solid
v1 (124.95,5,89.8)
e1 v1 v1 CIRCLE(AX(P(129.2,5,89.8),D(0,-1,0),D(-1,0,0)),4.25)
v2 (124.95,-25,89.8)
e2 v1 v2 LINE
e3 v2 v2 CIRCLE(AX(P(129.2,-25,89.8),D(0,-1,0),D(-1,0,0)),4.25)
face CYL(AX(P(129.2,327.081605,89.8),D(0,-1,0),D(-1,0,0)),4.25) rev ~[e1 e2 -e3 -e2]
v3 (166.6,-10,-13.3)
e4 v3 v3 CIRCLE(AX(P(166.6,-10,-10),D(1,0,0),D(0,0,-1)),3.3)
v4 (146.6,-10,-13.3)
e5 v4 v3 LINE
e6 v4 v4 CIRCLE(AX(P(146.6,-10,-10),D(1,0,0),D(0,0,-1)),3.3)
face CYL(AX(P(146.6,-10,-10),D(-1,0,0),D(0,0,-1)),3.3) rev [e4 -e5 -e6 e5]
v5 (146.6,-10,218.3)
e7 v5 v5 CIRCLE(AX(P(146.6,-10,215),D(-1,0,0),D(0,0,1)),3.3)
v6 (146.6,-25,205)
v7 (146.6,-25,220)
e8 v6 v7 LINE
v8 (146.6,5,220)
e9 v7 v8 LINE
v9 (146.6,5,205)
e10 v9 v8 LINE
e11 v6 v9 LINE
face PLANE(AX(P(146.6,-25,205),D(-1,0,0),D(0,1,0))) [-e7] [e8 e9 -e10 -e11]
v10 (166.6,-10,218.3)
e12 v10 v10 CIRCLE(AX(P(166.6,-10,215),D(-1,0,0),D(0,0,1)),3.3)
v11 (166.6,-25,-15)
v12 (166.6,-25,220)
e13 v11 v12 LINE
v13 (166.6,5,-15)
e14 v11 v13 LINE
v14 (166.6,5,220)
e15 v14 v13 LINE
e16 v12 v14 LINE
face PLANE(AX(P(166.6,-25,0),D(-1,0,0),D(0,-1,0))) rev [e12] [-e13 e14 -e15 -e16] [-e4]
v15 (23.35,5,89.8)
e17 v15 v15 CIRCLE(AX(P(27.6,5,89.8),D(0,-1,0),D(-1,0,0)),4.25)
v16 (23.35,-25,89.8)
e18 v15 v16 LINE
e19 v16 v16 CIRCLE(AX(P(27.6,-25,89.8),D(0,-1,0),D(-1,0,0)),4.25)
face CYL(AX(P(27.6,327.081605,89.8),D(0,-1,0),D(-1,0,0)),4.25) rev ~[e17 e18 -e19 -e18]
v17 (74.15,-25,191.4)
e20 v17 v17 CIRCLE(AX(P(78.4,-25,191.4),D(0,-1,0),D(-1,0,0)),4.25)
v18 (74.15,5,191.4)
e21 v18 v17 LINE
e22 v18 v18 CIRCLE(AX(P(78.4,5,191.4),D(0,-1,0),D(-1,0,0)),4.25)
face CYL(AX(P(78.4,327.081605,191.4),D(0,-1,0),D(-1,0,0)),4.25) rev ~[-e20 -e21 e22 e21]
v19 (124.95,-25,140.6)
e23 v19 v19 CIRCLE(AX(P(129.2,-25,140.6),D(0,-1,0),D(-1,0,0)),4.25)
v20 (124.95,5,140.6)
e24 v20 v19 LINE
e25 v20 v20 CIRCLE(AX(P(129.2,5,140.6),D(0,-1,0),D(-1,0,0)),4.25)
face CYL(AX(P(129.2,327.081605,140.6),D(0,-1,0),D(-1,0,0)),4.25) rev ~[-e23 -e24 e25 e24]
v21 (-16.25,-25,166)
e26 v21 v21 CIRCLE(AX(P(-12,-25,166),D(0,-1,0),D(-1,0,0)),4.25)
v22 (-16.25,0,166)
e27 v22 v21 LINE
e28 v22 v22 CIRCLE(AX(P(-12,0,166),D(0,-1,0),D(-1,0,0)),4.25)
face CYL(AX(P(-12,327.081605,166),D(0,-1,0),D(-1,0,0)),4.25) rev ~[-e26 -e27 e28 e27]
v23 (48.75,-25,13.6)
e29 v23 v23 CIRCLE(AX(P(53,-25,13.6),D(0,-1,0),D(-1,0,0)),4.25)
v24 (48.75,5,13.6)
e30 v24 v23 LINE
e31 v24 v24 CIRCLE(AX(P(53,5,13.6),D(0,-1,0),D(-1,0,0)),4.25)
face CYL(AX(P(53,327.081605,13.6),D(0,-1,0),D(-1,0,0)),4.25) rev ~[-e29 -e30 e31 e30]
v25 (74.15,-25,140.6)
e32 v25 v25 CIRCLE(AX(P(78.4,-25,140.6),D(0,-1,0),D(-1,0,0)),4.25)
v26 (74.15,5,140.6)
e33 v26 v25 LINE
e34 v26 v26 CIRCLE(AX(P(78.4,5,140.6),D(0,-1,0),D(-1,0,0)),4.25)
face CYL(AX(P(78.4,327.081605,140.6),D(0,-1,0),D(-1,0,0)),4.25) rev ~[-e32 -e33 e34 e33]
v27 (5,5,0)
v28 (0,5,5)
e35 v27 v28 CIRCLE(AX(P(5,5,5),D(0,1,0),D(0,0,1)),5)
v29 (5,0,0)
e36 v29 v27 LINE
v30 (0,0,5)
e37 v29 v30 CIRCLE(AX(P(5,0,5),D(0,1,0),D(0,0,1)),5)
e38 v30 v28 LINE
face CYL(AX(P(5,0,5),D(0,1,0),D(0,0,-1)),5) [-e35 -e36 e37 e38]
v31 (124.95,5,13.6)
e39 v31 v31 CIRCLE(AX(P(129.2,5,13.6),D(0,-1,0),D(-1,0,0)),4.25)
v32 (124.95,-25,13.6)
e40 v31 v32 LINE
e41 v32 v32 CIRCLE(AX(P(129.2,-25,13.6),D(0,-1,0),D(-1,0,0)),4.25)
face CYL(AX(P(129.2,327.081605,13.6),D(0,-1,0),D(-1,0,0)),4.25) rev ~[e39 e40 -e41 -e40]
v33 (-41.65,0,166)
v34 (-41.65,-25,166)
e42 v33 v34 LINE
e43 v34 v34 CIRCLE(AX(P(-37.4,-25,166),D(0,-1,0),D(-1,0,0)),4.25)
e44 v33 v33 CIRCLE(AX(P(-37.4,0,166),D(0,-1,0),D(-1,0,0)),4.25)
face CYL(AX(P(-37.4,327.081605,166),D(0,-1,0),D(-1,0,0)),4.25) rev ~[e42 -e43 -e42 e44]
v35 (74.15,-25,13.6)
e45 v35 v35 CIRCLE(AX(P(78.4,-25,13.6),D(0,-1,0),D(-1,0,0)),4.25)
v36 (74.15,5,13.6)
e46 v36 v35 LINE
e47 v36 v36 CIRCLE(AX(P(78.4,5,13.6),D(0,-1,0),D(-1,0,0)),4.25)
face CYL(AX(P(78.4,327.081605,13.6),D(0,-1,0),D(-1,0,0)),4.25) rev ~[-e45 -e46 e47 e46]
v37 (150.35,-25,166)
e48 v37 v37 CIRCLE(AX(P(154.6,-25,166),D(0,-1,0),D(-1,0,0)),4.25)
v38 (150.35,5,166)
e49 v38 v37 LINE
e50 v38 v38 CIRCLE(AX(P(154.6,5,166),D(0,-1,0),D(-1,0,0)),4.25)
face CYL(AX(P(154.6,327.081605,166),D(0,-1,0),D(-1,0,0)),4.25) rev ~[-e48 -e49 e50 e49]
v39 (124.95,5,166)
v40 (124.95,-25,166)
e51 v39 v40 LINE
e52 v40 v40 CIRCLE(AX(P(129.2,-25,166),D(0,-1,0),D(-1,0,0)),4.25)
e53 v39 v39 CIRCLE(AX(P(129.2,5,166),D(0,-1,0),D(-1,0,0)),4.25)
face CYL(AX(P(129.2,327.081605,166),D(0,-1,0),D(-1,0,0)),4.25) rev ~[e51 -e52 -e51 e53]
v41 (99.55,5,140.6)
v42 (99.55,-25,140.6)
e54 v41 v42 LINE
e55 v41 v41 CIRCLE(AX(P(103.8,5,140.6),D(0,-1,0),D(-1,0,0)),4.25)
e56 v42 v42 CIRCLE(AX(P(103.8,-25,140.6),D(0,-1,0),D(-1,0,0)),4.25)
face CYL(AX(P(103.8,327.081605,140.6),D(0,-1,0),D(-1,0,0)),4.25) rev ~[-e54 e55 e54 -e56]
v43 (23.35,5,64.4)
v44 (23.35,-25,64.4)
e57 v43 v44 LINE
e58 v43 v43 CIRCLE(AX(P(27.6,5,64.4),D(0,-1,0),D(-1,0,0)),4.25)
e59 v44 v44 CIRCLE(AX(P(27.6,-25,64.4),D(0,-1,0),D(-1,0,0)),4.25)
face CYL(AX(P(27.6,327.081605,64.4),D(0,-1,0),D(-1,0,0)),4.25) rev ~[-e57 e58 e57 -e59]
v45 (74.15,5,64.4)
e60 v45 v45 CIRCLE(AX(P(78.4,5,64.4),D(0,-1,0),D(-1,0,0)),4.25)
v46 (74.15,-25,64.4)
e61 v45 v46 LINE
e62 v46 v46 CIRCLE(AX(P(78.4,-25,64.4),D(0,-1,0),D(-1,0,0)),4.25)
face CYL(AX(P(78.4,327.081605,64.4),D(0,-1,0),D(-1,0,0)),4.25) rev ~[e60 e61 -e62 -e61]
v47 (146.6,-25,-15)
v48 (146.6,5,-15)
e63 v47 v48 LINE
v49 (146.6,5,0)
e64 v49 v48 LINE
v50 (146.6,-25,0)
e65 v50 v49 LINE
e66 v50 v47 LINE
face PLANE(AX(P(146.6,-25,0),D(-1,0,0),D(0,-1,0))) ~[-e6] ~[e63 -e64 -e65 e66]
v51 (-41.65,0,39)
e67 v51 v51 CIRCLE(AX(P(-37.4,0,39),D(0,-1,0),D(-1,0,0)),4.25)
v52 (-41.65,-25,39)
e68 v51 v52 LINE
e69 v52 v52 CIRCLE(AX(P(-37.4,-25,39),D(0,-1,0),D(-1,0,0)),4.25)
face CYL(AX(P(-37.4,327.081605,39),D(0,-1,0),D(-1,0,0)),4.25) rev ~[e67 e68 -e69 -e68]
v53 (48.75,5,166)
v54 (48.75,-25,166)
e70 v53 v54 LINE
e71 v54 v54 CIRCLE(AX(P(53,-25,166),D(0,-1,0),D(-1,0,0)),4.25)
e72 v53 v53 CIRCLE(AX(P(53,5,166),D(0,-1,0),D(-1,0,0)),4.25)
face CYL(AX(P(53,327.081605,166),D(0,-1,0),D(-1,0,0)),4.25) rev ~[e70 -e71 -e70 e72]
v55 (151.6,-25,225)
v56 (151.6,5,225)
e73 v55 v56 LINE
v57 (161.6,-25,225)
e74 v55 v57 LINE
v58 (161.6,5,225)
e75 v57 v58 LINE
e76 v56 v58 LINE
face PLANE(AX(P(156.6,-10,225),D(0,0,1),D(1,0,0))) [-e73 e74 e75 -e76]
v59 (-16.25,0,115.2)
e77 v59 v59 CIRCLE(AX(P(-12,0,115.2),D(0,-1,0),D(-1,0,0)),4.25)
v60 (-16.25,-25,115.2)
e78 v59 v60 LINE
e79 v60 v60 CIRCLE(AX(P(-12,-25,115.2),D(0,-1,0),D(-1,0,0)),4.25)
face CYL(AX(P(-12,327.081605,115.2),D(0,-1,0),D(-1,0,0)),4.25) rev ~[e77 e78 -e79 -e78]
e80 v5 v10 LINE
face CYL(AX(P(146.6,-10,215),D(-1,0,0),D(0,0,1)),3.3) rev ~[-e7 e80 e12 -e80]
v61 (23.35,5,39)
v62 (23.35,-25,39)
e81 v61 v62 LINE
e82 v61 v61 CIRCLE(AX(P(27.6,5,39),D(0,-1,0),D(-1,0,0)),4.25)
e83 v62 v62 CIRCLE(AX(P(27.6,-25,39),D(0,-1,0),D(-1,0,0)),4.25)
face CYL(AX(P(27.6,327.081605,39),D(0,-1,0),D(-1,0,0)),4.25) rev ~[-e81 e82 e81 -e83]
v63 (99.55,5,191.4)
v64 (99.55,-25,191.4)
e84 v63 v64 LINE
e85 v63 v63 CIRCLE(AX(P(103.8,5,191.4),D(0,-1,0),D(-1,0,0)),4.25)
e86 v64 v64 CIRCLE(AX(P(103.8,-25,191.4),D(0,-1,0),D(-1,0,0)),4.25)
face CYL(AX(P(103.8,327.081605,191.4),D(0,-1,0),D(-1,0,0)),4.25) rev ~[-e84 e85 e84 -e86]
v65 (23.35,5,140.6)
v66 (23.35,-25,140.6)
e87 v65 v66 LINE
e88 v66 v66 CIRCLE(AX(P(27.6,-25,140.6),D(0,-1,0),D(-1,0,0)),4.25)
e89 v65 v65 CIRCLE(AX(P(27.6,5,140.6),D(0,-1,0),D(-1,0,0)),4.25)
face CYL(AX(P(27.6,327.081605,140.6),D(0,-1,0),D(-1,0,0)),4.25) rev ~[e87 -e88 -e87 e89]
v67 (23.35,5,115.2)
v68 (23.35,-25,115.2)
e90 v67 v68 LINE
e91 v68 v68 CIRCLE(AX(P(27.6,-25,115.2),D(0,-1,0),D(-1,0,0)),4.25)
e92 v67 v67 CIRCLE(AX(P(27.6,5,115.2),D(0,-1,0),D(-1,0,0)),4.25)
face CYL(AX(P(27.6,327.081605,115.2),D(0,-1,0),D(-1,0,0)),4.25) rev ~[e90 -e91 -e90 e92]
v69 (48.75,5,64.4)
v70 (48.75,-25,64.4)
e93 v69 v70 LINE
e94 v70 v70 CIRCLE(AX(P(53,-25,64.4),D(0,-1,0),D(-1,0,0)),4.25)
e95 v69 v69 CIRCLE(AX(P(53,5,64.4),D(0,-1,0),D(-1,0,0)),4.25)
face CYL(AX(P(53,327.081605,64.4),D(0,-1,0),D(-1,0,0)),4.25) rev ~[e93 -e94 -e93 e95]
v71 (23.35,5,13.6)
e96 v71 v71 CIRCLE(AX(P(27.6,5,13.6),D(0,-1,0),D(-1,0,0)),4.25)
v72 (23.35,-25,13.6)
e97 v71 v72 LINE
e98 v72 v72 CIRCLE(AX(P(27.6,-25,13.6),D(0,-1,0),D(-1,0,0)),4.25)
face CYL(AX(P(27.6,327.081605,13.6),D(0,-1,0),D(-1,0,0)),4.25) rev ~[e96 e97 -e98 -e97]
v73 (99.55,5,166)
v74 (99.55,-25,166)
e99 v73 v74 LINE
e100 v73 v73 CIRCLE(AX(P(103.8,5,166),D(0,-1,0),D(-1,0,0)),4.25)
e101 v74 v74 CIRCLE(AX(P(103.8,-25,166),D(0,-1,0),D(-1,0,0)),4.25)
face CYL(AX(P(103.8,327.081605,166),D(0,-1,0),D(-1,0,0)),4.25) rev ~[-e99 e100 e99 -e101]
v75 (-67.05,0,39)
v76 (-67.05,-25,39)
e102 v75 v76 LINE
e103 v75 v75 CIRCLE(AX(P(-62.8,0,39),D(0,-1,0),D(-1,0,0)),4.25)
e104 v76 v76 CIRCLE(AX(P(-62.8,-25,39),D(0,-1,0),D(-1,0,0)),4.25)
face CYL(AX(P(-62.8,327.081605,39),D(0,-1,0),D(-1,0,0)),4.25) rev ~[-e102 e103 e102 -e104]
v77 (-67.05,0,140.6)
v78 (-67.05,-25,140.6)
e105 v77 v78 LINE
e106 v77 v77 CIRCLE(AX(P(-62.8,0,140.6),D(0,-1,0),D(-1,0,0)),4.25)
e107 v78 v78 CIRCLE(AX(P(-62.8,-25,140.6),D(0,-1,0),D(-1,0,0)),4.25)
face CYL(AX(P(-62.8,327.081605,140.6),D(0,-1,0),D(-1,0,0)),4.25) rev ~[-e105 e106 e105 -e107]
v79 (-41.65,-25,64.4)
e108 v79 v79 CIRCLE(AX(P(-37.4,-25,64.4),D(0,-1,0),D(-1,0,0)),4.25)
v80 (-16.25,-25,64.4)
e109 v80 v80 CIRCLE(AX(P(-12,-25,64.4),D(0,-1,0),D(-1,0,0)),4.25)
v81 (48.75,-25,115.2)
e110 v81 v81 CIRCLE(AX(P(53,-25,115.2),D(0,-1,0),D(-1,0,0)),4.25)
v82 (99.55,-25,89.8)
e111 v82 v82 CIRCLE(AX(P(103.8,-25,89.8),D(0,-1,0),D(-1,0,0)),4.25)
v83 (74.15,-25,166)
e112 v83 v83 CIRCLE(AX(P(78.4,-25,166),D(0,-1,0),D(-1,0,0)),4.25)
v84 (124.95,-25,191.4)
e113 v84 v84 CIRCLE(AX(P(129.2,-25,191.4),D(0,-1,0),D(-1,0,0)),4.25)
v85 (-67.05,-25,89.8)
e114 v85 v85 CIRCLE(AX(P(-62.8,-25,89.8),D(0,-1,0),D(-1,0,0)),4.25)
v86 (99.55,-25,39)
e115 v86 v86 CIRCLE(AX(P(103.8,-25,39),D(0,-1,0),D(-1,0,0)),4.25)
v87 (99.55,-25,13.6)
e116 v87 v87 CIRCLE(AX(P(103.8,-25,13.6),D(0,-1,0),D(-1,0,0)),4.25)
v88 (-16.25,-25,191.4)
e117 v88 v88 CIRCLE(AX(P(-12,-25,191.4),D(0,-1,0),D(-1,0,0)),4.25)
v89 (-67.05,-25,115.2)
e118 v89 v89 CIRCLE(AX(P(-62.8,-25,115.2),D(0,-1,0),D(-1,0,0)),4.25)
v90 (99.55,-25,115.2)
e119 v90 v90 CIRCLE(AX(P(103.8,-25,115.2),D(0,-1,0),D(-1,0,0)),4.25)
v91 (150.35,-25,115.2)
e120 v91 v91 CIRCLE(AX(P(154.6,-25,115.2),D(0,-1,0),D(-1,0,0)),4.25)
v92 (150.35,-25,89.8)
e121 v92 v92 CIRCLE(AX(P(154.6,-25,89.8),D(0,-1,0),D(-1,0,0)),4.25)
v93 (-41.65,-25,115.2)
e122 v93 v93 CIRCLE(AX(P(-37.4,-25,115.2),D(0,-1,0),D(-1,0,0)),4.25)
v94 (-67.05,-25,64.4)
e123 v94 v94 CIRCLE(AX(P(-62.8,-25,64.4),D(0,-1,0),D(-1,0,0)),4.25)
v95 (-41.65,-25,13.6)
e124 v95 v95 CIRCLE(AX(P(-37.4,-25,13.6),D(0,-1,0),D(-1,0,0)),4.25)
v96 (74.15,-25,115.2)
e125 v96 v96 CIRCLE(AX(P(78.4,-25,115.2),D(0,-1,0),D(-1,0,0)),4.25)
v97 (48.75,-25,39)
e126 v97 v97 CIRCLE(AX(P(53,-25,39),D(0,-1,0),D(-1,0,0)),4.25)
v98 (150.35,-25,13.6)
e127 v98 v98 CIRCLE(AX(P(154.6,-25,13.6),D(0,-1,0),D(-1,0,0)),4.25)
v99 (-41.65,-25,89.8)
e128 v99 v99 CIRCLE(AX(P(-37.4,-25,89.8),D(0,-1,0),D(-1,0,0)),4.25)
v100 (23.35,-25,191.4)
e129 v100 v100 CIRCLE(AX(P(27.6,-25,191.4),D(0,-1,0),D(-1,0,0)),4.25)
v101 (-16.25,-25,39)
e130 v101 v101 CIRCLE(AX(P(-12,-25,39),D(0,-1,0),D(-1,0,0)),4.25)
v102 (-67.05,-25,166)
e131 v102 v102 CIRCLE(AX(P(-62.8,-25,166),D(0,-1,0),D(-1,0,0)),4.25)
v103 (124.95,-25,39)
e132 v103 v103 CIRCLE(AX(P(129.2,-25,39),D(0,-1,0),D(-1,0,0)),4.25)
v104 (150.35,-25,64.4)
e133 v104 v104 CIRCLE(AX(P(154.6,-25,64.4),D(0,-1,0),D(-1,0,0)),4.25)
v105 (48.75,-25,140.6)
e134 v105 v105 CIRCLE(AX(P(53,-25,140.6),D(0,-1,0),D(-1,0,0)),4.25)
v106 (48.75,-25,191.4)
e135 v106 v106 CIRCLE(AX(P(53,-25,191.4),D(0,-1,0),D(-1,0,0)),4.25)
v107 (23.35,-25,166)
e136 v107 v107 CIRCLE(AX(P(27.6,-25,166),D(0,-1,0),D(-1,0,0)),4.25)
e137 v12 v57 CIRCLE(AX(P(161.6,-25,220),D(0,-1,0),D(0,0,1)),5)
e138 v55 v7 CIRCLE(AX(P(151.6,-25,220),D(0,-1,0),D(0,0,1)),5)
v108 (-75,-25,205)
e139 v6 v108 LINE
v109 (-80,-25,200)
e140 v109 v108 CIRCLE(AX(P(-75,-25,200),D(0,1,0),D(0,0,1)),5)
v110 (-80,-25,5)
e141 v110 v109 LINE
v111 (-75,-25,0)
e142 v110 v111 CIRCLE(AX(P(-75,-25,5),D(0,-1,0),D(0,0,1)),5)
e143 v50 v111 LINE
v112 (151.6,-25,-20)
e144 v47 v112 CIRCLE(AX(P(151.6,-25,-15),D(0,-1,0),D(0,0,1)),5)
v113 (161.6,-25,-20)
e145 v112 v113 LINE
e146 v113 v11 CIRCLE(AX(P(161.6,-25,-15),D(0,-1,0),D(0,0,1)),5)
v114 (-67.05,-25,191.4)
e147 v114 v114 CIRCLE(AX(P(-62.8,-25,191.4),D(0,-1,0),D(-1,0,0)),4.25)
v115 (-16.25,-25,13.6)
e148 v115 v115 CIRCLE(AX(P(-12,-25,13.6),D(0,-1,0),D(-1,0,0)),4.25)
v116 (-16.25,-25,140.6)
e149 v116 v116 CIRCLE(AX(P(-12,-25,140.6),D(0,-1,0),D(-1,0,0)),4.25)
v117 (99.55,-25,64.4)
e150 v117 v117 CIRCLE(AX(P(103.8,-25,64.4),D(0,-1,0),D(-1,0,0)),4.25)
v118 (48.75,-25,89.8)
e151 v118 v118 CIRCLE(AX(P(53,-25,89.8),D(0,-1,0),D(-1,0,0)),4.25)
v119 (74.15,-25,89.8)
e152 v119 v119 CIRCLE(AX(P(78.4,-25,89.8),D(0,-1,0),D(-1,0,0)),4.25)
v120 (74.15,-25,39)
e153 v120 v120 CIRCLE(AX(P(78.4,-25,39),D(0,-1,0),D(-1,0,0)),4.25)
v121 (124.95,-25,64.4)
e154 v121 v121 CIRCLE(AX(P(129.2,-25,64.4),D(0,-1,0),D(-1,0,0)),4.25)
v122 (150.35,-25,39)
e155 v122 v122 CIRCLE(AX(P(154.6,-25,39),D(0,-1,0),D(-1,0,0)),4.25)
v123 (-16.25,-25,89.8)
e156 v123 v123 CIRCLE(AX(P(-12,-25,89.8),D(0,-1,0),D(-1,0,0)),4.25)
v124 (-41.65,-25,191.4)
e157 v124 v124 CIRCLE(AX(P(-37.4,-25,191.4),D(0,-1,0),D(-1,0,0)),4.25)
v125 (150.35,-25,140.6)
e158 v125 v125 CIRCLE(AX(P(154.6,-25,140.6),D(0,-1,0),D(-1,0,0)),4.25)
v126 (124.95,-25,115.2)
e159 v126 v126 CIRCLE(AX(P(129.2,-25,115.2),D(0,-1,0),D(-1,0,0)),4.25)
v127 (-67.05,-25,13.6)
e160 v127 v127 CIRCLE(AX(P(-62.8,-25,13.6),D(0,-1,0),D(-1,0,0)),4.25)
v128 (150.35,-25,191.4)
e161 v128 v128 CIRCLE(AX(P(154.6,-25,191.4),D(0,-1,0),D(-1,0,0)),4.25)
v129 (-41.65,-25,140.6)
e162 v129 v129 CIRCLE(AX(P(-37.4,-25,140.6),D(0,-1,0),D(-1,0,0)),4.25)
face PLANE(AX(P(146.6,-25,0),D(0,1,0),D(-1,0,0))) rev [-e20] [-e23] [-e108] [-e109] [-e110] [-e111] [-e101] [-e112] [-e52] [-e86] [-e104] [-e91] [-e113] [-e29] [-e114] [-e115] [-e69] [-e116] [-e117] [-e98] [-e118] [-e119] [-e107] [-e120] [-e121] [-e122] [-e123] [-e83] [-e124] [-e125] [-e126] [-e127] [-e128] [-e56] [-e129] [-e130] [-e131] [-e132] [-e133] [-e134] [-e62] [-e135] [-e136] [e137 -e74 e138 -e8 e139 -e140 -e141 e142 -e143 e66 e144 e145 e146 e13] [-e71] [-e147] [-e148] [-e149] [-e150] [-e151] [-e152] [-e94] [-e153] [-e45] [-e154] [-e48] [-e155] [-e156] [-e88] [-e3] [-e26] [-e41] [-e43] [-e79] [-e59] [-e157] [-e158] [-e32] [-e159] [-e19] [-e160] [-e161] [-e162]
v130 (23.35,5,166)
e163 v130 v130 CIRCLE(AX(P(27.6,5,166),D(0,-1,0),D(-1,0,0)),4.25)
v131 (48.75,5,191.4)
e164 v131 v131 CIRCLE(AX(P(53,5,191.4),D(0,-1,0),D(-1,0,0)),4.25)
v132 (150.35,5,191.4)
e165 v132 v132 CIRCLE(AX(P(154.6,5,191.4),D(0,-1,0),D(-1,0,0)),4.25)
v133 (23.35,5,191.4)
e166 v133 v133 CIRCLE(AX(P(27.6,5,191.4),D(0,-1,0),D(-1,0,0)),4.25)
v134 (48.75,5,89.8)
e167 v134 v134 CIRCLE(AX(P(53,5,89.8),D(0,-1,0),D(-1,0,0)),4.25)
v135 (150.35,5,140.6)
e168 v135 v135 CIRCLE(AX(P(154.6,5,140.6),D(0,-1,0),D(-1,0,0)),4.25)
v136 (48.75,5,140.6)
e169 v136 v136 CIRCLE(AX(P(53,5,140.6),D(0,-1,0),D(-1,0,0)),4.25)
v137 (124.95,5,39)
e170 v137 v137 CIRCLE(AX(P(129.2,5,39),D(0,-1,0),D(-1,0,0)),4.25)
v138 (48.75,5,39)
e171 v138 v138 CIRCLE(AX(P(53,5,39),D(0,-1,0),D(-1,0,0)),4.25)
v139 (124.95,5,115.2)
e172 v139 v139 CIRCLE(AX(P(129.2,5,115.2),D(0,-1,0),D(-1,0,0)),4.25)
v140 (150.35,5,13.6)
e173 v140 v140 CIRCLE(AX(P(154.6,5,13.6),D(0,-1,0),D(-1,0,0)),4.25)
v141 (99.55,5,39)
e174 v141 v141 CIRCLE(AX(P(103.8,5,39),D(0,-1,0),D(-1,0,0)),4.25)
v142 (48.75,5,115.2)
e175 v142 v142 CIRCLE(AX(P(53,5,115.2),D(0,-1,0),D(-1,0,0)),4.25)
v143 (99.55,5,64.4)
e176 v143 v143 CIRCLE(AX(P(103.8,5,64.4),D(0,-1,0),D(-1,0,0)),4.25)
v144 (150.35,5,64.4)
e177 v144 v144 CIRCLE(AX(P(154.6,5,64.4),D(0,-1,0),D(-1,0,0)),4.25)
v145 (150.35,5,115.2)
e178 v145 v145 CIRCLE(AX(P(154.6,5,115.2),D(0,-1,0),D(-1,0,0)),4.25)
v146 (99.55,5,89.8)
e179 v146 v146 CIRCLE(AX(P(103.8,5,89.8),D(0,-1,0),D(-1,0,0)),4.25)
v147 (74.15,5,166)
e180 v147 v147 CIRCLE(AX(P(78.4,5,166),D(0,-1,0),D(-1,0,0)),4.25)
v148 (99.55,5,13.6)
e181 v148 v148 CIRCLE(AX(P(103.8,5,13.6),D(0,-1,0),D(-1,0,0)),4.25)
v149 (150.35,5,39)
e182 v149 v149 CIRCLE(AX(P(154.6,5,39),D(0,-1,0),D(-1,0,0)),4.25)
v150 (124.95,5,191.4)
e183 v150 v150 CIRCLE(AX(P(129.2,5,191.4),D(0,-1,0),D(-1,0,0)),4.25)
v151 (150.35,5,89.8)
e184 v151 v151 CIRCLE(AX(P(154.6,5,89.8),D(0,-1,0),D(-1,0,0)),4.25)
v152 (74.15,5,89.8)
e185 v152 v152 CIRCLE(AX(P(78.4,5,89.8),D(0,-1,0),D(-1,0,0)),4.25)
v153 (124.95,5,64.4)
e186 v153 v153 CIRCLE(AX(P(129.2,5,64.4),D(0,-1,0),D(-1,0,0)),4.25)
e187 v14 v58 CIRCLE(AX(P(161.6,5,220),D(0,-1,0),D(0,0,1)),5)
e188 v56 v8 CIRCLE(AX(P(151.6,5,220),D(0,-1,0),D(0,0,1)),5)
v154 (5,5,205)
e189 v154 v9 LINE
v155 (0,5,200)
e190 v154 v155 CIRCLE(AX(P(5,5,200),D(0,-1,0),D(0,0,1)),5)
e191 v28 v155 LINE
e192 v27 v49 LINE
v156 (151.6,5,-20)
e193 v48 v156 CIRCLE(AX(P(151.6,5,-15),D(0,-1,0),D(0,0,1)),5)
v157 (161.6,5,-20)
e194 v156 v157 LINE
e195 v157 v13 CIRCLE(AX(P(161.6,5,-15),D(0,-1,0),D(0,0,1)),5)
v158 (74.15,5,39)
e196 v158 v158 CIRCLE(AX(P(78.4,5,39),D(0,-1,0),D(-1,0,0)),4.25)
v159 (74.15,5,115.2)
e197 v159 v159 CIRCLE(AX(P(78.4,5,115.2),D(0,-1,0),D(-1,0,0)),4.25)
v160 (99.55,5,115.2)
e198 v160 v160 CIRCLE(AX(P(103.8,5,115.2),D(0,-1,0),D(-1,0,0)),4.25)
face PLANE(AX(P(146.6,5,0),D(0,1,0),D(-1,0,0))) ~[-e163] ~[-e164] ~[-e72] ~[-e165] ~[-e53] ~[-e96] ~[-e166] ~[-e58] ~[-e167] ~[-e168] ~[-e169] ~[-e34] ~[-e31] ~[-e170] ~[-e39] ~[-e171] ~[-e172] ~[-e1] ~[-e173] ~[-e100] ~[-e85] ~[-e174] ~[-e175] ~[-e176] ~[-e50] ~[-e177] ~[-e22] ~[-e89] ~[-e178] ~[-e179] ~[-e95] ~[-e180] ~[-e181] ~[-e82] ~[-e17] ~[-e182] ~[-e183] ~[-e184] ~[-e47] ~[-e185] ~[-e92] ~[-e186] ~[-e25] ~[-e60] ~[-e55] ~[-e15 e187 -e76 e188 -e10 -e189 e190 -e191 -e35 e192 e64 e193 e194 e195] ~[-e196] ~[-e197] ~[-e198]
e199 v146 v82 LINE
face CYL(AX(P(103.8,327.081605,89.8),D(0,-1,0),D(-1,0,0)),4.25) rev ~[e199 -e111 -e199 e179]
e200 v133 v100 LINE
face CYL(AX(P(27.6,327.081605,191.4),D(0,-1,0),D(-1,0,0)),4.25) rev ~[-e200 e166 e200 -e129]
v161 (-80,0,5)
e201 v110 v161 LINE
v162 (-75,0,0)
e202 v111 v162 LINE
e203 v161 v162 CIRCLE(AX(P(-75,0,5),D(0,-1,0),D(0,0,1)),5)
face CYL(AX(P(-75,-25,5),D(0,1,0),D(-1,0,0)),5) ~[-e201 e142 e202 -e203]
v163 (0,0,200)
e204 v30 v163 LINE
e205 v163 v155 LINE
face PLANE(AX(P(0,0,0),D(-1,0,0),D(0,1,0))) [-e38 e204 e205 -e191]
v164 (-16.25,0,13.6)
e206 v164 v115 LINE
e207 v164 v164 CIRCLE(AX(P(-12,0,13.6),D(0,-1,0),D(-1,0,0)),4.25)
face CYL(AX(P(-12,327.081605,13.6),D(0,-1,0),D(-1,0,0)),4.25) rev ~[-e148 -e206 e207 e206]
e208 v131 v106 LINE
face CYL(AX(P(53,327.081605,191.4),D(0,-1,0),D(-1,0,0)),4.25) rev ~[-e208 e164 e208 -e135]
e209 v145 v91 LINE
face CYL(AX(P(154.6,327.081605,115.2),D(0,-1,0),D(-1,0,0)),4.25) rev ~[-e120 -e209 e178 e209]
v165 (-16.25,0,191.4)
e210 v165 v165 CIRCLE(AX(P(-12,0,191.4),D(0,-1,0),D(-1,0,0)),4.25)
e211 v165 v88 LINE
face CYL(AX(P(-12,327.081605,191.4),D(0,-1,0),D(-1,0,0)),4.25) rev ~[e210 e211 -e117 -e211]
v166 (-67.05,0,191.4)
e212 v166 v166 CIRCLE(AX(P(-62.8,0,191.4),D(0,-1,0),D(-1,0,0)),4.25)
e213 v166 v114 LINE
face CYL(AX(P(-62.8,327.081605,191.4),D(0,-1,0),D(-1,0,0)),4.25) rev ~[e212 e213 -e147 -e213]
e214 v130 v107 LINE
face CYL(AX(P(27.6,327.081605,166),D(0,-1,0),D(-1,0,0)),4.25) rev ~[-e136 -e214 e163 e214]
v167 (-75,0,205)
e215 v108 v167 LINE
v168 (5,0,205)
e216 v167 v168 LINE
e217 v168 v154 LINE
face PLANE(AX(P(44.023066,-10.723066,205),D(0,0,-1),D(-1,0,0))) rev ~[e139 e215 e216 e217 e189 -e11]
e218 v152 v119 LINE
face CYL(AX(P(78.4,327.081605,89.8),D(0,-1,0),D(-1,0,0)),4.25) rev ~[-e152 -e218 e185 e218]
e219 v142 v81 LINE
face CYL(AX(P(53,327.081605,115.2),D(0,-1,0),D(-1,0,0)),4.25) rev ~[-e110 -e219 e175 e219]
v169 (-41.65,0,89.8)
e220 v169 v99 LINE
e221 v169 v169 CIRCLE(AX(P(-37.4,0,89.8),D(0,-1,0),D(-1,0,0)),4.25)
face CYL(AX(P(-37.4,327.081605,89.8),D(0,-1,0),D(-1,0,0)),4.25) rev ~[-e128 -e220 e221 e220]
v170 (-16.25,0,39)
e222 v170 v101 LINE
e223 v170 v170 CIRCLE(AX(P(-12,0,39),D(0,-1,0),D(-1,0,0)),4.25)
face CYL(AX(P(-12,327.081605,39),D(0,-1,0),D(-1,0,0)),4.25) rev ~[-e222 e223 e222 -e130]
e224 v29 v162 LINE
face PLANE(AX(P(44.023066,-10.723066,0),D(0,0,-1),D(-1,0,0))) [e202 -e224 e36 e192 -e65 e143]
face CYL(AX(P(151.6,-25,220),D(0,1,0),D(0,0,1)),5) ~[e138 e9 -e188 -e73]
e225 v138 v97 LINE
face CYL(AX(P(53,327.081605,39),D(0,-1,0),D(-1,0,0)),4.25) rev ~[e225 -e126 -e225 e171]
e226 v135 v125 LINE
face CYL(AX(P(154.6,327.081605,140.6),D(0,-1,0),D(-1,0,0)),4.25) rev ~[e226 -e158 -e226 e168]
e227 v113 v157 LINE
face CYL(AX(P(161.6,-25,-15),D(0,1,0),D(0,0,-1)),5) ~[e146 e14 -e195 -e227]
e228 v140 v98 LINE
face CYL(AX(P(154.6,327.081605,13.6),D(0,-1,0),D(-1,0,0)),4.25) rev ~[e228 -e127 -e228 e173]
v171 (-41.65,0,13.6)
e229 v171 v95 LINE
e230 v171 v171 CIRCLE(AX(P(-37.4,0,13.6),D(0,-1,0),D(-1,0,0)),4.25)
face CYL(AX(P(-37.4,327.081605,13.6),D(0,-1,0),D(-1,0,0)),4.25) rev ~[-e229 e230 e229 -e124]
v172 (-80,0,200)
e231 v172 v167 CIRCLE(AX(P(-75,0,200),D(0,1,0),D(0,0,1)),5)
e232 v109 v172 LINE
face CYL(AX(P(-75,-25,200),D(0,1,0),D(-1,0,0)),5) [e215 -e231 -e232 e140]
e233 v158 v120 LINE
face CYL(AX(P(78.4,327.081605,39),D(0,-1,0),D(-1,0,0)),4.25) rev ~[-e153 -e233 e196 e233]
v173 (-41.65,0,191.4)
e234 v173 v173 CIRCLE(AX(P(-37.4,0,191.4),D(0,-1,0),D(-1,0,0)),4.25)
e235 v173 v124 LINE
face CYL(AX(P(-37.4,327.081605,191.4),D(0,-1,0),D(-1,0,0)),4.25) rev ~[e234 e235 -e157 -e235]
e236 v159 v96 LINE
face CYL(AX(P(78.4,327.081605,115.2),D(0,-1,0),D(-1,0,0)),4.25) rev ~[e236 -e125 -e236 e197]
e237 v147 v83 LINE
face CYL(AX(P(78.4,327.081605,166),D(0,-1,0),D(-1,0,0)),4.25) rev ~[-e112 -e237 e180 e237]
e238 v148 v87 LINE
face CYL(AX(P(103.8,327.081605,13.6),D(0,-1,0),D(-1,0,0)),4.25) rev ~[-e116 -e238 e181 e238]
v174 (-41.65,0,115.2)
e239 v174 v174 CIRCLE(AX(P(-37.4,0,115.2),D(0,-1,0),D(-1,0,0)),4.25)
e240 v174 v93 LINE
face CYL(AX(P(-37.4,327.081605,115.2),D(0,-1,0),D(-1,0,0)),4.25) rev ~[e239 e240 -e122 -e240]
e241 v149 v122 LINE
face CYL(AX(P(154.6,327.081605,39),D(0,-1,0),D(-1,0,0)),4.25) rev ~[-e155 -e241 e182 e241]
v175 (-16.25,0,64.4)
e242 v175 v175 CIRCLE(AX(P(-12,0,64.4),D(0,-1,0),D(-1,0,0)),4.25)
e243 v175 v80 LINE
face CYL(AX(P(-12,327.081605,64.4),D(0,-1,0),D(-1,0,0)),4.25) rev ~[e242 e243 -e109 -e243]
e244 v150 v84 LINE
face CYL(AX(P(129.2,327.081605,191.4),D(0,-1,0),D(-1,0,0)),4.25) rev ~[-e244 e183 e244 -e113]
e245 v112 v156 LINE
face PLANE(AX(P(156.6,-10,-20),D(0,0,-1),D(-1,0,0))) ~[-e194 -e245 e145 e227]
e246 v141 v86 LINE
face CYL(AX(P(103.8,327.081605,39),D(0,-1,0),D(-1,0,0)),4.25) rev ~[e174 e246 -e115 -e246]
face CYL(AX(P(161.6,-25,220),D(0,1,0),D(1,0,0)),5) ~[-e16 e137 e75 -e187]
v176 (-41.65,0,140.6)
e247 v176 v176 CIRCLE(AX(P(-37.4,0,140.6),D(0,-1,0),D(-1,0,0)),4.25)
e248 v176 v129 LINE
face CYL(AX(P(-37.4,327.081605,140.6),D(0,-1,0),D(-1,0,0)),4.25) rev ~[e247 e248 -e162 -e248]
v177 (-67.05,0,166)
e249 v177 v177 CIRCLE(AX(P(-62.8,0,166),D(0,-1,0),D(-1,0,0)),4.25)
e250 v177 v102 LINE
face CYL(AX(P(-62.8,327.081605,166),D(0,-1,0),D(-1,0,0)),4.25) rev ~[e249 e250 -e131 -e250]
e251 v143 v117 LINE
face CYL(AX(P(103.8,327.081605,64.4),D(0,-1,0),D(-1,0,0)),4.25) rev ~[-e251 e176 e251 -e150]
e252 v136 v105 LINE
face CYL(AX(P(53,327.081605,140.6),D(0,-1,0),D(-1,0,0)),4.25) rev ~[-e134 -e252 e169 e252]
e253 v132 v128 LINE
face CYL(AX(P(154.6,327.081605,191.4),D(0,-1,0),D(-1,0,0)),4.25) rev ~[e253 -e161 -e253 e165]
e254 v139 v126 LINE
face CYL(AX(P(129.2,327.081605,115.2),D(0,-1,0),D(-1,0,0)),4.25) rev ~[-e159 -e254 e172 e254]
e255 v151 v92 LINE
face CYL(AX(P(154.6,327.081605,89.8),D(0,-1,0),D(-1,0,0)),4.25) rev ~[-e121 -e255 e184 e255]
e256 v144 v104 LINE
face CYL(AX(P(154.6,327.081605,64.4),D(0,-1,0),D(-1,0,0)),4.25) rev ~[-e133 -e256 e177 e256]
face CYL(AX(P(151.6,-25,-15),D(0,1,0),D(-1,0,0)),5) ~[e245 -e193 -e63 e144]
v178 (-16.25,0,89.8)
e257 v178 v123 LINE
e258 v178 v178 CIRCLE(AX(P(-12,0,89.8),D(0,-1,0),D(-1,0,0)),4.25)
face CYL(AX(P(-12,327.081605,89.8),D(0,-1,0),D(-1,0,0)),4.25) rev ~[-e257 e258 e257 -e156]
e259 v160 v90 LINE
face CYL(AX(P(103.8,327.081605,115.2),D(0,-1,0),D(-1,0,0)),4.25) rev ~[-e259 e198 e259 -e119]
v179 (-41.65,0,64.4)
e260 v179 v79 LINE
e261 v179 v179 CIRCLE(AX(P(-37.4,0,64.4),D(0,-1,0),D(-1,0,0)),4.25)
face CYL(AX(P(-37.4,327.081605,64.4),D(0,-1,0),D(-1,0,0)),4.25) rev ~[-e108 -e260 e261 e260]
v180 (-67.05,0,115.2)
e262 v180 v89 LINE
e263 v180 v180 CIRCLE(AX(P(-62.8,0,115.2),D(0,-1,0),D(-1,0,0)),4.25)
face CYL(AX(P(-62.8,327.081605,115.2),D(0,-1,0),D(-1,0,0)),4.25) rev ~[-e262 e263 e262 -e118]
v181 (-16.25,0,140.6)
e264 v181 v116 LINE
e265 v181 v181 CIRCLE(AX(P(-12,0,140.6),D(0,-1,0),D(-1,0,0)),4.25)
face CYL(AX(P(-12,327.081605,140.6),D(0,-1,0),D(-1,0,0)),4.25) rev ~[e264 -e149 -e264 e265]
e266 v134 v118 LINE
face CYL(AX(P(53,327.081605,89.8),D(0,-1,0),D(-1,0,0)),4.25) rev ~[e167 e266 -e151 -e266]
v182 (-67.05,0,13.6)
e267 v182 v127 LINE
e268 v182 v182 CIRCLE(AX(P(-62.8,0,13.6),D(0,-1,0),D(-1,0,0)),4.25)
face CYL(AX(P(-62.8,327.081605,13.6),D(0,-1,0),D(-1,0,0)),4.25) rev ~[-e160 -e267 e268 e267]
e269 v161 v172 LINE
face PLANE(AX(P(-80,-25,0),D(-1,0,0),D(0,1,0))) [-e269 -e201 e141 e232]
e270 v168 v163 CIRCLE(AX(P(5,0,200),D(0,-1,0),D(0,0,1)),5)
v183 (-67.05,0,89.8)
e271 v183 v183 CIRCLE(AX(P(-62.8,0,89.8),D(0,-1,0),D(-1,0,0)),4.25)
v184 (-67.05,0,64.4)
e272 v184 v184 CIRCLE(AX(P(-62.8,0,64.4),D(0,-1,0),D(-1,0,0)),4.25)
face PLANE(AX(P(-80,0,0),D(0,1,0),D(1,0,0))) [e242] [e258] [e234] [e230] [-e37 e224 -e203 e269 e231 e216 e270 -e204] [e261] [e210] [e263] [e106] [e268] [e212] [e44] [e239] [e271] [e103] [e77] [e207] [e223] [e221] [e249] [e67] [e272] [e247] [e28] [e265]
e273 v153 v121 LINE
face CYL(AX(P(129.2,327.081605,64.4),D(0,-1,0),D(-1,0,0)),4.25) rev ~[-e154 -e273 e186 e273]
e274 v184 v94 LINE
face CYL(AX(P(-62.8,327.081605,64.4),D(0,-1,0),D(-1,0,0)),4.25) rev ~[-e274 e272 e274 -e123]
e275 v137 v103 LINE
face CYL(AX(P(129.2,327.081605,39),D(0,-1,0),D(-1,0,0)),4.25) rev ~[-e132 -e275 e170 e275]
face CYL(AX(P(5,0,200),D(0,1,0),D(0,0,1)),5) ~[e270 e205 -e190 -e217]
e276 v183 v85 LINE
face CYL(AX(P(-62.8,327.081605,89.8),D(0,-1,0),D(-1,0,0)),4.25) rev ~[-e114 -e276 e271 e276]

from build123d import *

# Parameters (mm, degrees)
BOSS_EXTRUDE1_DEPTH  = 205
M8_CLEARANCE_HOLE1_D = 8.5
FILLET1_R            = 5
SKETCH5_W            = 20
SKETCH5_H            = 30
BOSS_EXTRUDE2_DEPTH  = 20
SKETCH7_R            = 3.3
CUT_EXTRUDE1_DEPTH   = 20
FILLET2_R            = 5


with BuildPart() as part:
    # Sketch1 → Boss-Extrude1 (new body)
    with BuildSketch(Plane.XY):
        Polygon((-80, 0), (0, 0), (0, 5), (166.6, 5), (166.6, -25), (-80, -25), align=None)
    extrude(amount=BOSS_EXTRUDE1_DEPTH)

    # M8 Clearance Hole1 (through all)
    with Locations(Plane(origin=(0, 5, 0), x_dir=(1, 0, 0), z_dir=(0, 1, 0))):
        with Locations((-12, -13.6), (-62.8, -13.6), (-113.6, -13.6), (-62.8, -64.4), (-113.6, -64.4), (-62.8, -115.2), (-113.6, -115.2), (-62.8, -166), (-113.6, -166), (-12, -64.4), (-12, -115.2), (-12, -166), (53, -13.6), (103.8, -13.6), (154.6, -13.6), (103.8, -64.4), (154.6, -64.4), (103.8, -115.2), (154.6, -115.2), (103.8, -166), (154.6, -166), (53, -64.4), (53, -115.2), (53, -166), (-62.8, -39), (-12, -39), (53, -39), (103.8, -39), (154.6, -39), (154.6, -89.8), (103.8, -89.8), (53, -89.8), (-12, -89.8), (-62.8, -89.8), (-62.8, -140.6), (-12, -140.6), (53, -140.6), (103.8, -140.6), (154.6, -140.6), (154.6, -191.4), (103.8, -191.4), (53, -191.4), (-12, -191.4), (-62.8, -191.4), (-37.4, -13.6), (-37.4, -64.4), (-37.4, -115.2), (-37.4, -166), (-37.4, -191.4), (-37.4, -39), (-37.4, -89.8), (-37.4, -140.6), (129.2, -13.6), (129.2, -64.4), (129.2, -115.2), (129.2, -166), (129.2, -39), (129.2, -89.8), (129.2, -140.6), (129.2, -191.4), (78.4, -13.6), (78.4, -64.4), (78.4, -115.2), (78.4, -166), (78.4, -39), (78.4, -89.8), (78.4, -140.6), (78.4, -191.4), (27.6, -13.6), (27.6, -64.4), (27.6, -115.2), (27.6, -166), (27.6, -39), (27.6, -89.8), (27.6, -140.6), (27.6, -191.4)):
            Hole(M8_CLEARANCE_HOLE1_D / 2)

    # Fillet1
    fillet1_edges = [part.edges().sort_by_distance(p)[0] for p in [
        (0, 2.5, 205),
        (-80, -12.5, 205),
        (0, 2.5, 0),
        (-80, -12.5, 0),
    ]]
    fillet(fillet1_edges, radius=FILLET1_R)

    # Sketch5 → Boss-Extrude2 (add)
    with BuildSketch(Plane.XY.offset(205)):
        with Locations((156.6, -10)):
            Rectangle(SKETCH5_W, SKETCH5_H)
    boss_extrude2 = extrude(amount=BOSS_EXTRUDE2_DEPTH)

    # Sketch7 → Cut-Extrude1 (cut)
    with BuildSketch(Plane.ZY.offset(-146.6)):
        with Locations((215, -10)):
            Circle(SKETCH7_R)
    cut_extrude1 = extrude(amount=-CUT_EXTRUDE1_DEPTH, mode=Mode.SUBTRACT)

    # Mirror1: Boss-Extrude2, Cut-Extrude1 across plane
    add(boss_extrude2.mirror(Plane.XY.offset(102.5)))
    add(cut_extrude1.mirror(Plane.XY.offset(102.5)), mode=Mode.SUBTRACT)

    # Fillet2
    fillet2_edges = [part.edges().sort_by_distance(p)[0] for p in [
        (166.6, -10, 225),
        (146.6, -10, 225),
        (166.6, -10, -20),
        (146.6, -10, -20),
    ]]
    fillet(fillet2_edges, radius=FILLET2_R)


solid = part.part
